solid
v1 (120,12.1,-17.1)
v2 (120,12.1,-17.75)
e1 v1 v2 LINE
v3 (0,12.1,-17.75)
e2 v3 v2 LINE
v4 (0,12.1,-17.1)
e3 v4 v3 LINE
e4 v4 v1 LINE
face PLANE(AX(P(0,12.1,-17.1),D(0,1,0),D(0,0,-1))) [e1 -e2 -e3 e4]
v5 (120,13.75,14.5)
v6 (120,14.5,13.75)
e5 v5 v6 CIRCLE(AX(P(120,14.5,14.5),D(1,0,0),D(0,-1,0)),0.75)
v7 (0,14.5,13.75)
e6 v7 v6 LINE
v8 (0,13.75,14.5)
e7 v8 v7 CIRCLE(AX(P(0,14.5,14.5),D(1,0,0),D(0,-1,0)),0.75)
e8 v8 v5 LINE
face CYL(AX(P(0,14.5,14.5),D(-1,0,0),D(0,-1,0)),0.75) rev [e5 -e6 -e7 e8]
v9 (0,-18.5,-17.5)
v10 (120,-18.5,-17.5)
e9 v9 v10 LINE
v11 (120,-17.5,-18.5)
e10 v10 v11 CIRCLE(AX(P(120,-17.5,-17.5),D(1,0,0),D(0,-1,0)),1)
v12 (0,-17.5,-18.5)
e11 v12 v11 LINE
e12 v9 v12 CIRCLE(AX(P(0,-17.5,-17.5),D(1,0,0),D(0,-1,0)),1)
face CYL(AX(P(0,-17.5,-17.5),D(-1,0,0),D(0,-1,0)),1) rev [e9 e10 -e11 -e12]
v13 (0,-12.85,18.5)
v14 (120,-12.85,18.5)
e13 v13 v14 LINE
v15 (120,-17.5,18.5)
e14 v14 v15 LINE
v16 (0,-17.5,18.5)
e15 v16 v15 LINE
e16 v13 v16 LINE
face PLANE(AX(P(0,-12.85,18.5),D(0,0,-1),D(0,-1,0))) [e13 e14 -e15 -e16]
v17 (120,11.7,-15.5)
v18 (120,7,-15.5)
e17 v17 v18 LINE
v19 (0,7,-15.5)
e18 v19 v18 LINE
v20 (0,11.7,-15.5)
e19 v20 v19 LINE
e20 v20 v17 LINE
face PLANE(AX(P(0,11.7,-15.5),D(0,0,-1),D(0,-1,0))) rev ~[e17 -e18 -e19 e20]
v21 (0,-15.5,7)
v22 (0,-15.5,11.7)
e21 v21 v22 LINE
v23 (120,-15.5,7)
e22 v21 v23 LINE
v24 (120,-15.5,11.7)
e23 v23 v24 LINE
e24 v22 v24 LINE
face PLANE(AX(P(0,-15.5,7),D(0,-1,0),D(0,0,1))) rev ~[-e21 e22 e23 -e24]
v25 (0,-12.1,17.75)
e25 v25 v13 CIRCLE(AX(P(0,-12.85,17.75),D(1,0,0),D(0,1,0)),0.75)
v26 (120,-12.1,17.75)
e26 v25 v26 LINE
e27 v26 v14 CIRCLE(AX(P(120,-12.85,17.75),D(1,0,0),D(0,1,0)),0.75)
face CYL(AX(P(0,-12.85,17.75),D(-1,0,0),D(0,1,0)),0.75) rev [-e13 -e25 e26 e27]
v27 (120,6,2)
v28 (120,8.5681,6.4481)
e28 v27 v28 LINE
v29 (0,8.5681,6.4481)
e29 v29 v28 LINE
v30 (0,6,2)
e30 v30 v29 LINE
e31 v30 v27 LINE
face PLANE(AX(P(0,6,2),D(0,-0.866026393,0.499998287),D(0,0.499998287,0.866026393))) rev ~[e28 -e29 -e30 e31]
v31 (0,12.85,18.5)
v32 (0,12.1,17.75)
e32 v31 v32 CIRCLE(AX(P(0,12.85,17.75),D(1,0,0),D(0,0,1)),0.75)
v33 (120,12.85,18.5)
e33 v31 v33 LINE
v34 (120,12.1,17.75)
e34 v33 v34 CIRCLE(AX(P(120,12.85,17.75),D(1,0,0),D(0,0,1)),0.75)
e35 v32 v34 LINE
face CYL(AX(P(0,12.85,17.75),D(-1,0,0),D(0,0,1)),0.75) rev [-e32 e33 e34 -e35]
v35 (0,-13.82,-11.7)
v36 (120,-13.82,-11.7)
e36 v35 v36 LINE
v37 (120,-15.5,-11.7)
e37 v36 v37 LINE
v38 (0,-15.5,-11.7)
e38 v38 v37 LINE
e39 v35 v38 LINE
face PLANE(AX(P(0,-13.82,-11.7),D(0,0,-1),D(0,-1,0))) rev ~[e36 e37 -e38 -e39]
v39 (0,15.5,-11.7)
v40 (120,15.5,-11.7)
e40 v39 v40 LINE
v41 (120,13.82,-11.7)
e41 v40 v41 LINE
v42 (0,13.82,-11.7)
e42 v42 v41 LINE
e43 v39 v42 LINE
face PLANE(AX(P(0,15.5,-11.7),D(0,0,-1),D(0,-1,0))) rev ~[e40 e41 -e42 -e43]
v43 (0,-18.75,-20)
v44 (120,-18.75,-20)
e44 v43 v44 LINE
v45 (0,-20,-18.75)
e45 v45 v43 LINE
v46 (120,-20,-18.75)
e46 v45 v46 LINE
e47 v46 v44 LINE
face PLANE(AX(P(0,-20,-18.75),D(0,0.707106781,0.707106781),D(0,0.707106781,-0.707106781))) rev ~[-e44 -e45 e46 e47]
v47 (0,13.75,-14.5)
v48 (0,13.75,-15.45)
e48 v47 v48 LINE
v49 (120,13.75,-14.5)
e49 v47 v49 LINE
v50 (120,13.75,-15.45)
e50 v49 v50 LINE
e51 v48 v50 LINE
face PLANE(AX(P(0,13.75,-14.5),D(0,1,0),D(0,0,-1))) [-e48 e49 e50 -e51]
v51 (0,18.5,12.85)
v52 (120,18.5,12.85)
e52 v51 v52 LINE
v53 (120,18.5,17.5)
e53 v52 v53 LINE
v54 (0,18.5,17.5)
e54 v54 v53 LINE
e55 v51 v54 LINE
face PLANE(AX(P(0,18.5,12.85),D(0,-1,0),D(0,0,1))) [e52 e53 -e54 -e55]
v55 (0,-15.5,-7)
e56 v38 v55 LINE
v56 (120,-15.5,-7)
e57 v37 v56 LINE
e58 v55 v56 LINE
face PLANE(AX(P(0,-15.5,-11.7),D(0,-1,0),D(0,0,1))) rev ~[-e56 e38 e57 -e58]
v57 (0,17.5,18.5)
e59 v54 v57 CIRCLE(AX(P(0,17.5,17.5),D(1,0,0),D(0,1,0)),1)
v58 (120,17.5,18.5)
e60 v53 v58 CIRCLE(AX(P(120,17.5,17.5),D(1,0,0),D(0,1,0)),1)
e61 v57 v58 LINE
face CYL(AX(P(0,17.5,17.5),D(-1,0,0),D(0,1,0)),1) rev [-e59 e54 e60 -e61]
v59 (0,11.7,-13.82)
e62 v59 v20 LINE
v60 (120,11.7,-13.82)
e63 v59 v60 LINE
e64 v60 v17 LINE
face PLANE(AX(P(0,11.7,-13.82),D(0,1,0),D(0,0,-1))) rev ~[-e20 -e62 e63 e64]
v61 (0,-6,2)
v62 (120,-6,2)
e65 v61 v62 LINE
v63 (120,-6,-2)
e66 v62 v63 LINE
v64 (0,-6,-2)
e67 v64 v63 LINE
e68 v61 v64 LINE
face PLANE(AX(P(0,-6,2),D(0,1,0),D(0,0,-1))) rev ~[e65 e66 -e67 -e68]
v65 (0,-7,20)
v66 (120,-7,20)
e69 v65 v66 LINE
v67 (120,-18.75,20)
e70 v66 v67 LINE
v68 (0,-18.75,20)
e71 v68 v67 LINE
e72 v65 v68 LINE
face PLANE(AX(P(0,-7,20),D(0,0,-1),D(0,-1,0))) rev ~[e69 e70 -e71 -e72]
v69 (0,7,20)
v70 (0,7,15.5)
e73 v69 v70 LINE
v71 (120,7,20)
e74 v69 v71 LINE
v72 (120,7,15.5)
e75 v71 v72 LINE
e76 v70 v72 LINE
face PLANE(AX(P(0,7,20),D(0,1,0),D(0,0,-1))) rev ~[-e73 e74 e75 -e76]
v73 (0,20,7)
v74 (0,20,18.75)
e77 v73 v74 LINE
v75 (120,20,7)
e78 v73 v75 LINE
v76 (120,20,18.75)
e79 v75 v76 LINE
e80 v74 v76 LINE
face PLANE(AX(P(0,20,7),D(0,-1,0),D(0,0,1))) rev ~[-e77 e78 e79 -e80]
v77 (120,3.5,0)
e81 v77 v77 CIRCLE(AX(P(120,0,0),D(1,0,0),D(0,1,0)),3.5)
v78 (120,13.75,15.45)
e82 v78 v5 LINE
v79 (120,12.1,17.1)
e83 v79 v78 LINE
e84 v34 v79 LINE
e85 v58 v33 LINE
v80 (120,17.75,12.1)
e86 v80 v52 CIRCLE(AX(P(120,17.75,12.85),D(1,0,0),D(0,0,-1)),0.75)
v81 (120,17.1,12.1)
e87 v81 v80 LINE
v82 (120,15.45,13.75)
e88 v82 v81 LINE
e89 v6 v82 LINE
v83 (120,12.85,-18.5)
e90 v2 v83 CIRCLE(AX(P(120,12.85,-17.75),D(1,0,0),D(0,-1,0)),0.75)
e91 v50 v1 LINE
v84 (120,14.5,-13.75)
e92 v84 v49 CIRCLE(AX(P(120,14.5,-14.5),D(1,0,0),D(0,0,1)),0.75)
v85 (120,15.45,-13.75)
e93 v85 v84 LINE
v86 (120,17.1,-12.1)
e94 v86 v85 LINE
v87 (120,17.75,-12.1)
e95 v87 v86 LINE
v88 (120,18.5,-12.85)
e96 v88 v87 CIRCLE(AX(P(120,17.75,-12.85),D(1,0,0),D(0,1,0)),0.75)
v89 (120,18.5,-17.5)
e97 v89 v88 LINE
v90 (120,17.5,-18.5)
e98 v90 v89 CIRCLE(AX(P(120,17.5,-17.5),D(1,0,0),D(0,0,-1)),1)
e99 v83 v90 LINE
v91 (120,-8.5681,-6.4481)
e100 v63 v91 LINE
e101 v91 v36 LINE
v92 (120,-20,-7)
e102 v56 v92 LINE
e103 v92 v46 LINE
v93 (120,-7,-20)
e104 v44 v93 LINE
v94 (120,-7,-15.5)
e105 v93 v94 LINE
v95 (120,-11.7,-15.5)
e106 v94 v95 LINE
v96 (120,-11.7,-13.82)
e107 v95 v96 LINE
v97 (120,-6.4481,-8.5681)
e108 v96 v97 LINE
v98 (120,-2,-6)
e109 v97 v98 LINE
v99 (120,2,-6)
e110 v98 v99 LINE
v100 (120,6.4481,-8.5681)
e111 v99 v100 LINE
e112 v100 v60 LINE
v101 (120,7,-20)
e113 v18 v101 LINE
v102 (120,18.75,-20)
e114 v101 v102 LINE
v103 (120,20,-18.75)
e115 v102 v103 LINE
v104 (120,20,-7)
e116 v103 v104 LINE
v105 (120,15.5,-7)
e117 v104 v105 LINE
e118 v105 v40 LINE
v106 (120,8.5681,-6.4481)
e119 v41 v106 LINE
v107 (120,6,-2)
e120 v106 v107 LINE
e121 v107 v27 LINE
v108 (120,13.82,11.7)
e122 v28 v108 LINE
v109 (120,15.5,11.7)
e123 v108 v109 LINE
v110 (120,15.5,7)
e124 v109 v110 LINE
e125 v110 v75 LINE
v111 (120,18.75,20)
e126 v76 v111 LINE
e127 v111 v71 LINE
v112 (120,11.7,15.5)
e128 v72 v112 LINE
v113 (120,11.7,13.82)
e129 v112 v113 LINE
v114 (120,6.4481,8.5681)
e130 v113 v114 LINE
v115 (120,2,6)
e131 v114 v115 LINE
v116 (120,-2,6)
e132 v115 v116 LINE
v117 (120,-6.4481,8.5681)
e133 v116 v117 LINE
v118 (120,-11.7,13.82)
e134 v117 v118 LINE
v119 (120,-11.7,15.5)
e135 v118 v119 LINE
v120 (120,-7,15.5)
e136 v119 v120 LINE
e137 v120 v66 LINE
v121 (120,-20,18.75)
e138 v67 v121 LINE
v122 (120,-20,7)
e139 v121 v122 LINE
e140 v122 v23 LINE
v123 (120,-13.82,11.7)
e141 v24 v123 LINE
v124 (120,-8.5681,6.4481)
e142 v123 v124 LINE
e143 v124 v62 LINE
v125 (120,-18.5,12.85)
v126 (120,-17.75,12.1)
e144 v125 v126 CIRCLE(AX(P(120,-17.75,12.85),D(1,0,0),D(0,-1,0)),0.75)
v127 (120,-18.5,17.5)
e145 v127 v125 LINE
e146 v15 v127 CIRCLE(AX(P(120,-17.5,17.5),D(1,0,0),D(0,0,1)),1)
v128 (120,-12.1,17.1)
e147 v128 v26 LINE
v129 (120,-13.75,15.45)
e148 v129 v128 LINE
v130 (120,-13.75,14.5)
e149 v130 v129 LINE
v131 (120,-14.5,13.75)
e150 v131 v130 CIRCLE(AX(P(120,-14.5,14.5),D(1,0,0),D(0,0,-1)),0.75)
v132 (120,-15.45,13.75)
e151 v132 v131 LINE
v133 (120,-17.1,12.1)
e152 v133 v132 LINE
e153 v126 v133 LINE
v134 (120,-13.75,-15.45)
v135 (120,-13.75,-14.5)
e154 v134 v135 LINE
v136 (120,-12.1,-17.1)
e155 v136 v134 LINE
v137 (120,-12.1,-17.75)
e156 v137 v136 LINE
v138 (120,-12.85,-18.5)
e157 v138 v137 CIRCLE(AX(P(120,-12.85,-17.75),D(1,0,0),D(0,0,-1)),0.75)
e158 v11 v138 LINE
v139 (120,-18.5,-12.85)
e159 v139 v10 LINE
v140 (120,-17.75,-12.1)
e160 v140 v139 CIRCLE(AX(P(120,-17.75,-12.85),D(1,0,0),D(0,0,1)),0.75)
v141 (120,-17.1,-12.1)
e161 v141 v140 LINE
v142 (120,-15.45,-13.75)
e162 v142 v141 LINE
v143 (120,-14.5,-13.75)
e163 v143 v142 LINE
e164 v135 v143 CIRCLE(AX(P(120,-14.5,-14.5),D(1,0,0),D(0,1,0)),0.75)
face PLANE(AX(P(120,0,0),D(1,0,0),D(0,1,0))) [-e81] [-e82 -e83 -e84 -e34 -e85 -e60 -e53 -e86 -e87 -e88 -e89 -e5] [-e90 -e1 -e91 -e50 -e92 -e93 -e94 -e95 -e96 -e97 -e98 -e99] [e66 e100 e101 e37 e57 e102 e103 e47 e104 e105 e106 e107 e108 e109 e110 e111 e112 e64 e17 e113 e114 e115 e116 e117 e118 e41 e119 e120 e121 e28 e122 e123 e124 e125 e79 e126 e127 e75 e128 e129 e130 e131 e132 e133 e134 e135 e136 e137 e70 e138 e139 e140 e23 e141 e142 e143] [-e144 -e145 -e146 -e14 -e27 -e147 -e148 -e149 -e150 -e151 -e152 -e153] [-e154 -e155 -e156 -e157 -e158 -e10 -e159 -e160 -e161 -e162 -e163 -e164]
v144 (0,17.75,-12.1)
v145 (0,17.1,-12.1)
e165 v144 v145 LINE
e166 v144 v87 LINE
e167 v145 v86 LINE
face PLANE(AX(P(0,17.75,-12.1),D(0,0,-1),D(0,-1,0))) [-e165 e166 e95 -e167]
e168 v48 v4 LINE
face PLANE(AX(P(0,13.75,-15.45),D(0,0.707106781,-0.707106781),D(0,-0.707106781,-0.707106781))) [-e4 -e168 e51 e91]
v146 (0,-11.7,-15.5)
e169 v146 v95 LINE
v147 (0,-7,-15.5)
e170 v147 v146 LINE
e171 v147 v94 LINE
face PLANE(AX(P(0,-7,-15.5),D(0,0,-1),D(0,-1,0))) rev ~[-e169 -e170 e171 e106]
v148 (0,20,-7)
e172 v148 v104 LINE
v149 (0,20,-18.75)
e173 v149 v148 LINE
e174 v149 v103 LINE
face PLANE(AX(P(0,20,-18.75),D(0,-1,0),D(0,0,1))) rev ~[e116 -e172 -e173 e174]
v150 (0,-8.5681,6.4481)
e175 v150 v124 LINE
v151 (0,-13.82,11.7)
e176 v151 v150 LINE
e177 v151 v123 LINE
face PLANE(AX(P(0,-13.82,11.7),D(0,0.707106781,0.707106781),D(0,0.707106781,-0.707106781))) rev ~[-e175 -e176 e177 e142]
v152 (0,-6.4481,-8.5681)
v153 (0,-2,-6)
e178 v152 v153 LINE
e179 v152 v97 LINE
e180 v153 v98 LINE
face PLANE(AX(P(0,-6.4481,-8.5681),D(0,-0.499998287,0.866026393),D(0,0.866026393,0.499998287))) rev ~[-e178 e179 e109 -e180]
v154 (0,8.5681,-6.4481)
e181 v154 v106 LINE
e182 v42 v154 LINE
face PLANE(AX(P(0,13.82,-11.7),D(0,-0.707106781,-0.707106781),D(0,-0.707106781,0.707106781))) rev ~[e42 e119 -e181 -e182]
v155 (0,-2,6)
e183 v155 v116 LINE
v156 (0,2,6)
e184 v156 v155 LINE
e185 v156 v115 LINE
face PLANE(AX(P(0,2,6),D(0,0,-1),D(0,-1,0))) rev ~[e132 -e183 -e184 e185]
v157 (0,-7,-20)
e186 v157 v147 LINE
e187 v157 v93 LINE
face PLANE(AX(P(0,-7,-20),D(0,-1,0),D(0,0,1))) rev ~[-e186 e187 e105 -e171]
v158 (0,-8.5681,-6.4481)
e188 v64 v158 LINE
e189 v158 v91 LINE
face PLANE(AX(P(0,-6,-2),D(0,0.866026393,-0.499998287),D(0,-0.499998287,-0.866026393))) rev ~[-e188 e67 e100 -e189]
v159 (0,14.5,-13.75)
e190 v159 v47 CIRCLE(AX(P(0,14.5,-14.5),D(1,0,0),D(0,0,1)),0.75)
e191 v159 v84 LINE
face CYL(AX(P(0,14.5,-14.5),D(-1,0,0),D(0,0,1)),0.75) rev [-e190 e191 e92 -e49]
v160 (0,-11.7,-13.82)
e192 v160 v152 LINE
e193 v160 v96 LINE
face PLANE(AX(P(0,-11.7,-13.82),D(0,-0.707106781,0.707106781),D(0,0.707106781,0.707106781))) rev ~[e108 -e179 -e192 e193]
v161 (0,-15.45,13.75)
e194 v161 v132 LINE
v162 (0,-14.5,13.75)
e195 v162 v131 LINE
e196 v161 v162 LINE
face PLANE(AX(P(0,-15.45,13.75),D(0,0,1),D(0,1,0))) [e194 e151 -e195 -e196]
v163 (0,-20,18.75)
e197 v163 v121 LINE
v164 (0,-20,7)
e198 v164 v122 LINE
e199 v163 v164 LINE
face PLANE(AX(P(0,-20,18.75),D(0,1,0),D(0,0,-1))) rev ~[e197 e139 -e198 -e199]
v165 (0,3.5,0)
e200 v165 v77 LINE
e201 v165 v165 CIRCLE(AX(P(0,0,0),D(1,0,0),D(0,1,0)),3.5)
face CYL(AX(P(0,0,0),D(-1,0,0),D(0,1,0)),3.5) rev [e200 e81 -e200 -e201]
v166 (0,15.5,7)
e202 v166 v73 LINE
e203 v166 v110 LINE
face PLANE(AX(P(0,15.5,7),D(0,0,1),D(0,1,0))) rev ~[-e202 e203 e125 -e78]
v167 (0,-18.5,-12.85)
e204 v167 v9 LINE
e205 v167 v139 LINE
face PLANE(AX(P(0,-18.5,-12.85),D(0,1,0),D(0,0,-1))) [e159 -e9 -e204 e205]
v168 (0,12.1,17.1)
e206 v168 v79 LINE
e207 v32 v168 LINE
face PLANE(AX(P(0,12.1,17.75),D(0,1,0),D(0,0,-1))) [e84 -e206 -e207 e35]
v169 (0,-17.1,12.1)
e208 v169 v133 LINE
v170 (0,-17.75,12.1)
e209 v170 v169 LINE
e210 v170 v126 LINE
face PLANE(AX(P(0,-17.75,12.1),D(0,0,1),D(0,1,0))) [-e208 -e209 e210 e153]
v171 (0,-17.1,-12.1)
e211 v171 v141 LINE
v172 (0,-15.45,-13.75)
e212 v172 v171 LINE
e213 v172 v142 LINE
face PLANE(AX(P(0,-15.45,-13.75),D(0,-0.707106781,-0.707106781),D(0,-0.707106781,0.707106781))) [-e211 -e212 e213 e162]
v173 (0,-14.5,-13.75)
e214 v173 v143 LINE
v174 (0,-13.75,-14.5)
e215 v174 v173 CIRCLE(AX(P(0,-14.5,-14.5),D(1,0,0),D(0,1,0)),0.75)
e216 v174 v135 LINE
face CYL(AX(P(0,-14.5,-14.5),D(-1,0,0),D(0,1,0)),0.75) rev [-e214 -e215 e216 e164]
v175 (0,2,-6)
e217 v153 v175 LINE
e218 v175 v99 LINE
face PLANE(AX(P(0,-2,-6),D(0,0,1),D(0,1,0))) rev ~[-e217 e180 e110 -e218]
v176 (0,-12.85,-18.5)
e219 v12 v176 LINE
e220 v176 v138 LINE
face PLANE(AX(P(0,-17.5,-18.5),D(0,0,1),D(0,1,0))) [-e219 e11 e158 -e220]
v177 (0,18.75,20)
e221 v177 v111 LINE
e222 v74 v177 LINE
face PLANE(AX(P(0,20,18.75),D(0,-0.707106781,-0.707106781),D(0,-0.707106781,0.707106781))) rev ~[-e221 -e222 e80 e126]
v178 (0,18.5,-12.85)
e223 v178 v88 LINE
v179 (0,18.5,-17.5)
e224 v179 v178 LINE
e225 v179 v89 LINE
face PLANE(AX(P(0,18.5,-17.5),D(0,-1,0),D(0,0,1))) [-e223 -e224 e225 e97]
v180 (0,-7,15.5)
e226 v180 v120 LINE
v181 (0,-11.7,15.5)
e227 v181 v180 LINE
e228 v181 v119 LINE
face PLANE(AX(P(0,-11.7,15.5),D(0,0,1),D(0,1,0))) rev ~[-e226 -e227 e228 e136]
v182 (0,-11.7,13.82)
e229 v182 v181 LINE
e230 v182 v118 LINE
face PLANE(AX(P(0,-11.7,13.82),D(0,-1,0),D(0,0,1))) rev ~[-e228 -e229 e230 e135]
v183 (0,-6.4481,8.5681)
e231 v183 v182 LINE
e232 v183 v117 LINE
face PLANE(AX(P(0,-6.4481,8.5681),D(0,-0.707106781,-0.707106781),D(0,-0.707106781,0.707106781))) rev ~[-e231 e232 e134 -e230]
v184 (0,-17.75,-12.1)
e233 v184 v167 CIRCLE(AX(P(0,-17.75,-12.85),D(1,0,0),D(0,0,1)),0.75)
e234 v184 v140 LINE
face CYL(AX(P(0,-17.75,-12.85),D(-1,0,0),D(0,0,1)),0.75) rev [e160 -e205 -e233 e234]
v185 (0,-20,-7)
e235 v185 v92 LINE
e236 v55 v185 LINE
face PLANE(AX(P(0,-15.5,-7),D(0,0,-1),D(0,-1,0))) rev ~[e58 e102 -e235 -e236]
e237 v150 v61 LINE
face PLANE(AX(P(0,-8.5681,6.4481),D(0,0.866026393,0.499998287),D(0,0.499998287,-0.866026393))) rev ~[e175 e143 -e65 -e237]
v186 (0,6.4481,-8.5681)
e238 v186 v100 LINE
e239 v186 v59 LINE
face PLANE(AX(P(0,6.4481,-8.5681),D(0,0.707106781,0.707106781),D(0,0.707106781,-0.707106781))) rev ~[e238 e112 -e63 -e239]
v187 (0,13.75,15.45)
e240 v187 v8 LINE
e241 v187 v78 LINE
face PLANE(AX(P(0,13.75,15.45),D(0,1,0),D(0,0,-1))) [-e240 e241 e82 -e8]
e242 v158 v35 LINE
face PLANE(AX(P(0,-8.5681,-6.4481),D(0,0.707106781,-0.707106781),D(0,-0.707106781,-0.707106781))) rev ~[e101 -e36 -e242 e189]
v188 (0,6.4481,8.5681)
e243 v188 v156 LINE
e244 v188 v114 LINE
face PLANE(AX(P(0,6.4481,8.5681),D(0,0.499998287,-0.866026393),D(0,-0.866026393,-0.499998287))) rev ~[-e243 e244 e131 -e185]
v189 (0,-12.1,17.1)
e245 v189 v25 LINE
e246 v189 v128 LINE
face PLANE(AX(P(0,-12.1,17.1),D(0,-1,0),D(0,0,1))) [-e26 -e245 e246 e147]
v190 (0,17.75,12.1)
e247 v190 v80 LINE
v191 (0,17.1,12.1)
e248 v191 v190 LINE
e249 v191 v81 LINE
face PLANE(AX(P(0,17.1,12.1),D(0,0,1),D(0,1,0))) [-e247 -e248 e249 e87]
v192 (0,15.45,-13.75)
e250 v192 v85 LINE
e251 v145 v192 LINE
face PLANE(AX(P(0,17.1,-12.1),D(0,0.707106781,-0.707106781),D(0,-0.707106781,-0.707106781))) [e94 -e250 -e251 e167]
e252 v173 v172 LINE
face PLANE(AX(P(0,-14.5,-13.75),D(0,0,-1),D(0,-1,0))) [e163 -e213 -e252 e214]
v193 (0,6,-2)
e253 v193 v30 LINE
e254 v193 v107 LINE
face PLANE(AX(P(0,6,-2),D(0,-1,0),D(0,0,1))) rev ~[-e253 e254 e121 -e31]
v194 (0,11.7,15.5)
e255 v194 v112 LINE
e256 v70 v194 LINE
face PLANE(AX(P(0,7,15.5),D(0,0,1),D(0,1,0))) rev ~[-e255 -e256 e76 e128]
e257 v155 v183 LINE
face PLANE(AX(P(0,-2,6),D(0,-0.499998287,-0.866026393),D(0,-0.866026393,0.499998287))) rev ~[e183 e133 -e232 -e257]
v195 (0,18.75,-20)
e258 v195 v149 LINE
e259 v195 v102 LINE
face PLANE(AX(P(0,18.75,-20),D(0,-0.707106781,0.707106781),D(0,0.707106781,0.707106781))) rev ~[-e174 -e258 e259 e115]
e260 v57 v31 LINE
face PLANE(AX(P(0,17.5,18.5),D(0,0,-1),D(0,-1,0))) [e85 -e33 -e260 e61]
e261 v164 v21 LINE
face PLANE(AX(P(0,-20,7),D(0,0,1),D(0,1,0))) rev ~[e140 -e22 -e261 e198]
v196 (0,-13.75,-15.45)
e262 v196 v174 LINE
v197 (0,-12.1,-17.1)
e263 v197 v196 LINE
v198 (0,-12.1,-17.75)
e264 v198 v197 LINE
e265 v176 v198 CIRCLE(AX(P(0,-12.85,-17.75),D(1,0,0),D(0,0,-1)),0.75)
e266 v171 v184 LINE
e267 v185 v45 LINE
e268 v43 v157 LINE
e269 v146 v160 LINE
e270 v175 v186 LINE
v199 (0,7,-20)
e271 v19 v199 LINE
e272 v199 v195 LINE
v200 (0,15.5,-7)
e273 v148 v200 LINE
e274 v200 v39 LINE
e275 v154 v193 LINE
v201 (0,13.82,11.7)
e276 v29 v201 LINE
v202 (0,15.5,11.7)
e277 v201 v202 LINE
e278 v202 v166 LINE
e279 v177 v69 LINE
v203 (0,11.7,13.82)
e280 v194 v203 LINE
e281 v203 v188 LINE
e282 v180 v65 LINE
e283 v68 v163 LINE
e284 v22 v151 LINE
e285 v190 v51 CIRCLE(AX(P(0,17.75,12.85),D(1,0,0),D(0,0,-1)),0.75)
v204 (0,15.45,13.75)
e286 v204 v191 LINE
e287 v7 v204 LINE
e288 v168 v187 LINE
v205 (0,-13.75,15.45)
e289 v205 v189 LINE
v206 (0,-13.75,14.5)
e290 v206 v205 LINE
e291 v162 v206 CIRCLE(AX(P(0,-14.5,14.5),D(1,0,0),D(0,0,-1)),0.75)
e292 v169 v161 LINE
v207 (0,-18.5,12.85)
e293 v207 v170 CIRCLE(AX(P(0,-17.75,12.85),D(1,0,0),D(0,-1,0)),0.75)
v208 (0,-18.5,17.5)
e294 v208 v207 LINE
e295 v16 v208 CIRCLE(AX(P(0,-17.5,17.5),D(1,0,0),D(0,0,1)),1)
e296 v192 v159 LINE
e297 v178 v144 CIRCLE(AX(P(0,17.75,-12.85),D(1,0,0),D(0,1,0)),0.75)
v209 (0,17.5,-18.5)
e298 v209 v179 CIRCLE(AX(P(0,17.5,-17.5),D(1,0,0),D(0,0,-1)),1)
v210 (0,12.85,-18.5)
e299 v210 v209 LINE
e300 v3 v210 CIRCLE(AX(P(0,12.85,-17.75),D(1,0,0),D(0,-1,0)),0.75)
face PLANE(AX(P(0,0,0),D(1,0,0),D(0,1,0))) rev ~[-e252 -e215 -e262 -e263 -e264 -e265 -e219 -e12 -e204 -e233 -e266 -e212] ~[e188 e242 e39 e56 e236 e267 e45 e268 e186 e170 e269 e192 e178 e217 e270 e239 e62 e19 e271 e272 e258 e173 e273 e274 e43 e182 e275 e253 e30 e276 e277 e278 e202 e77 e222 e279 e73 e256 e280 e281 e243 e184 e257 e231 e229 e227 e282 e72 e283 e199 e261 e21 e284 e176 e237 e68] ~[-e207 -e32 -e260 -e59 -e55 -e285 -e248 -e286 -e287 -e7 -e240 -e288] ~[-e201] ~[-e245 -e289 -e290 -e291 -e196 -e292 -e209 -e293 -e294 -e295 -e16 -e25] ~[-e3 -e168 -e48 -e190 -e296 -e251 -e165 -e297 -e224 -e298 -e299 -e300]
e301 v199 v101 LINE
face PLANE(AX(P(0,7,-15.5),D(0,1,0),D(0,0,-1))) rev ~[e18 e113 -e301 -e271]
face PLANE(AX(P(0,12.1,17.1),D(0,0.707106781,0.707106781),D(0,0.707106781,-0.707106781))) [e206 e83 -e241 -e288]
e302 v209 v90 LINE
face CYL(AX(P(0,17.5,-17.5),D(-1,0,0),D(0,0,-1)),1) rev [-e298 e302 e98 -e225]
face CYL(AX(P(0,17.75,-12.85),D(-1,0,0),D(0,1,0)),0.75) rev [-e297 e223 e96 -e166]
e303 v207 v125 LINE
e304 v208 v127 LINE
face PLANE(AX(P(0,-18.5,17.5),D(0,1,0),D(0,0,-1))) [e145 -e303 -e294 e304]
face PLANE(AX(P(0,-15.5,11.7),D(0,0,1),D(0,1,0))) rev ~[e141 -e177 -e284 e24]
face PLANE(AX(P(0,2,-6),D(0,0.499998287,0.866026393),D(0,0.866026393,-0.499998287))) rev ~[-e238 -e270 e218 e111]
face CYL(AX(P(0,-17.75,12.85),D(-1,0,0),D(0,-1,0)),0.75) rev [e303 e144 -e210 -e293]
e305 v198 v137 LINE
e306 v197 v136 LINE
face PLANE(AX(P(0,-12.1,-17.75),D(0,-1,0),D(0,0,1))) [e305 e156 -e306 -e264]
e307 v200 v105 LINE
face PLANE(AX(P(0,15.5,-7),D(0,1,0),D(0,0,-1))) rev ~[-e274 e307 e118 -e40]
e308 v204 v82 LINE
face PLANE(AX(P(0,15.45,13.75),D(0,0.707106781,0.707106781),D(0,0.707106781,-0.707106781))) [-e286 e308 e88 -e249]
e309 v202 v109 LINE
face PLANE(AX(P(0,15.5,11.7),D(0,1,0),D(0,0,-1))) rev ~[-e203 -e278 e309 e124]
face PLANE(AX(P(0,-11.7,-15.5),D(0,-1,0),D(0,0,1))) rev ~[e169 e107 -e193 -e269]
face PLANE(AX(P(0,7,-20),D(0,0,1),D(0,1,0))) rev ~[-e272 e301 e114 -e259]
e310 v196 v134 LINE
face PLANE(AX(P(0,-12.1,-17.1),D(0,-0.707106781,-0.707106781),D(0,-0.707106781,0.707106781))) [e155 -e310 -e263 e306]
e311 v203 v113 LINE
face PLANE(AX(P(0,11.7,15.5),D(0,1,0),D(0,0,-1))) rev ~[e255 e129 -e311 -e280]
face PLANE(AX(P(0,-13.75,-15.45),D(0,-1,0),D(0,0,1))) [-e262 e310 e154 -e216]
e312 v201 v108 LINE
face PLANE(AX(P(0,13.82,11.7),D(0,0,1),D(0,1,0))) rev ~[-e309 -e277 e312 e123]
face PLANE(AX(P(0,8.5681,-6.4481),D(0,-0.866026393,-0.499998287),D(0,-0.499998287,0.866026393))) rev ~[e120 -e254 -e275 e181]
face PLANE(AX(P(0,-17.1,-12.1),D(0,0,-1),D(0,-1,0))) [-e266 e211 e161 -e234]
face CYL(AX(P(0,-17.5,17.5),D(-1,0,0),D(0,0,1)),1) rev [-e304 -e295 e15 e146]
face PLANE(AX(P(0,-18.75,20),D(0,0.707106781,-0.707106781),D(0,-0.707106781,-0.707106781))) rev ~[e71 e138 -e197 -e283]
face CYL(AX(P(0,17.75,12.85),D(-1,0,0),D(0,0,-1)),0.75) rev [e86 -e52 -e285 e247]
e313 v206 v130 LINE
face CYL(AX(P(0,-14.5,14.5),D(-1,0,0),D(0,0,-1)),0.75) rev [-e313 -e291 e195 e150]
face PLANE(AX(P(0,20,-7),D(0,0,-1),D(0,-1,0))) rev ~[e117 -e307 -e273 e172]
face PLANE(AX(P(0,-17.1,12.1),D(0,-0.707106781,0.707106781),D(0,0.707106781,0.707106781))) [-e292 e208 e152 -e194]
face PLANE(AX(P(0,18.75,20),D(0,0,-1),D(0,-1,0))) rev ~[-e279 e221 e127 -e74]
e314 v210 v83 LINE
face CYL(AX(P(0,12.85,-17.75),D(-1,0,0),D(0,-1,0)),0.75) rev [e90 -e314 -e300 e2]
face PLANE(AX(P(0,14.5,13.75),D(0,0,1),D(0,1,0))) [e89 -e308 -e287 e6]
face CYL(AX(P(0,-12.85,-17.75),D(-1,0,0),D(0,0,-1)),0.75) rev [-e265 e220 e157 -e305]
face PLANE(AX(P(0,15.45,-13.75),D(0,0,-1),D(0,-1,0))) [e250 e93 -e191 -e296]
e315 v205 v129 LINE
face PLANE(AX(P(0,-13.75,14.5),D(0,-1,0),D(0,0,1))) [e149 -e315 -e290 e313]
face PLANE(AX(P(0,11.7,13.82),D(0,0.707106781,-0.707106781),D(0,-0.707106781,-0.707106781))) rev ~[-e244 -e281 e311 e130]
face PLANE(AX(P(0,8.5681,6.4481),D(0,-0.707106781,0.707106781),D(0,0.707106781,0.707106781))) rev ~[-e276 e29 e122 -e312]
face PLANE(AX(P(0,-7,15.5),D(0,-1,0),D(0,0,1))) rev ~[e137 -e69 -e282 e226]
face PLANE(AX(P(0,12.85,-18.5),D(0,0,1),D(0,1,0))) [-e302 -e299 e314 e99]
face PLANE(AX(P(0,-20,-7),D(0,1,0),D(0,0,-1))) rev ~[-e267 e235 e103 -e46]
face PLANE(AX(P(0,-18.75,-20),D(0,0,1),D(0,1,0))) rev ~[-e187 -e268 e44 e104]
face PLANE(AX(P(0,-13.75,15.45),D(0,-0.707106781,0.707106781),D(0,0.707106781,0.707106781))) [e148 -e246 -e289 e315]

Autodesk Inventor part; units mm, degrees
sketch "Skizze_1" plane through (0, 0, 0) normal (1, 0, 0) x (0, 1, 0)
  line L0 (18.75, 20) -> (7, 20)
  line L1 (7, 20) -> (7, 15.5)
  line L2 (7, 15.5) -> (11.7, 15.5)
  line L3 (11.7, 15.5) -> (11.7, 13.82)
  line L4 (11.7, 13.82) -> (6.4481, 8.5681)
  line L5 (6.4481, 8.5681) -> (2, 6)
  line L6 (2, 6) -> (-2, 6)
  line L7 (-2, 6) -> (-6.4481, 8.5681)
  line L8 (-6.4481, 8.5681) -> (-11.7, 13.82)
  line L9 (-11.7, 13.82) -> (-11.7, 15.5)
  line L10 (-11.7, 15.5) -> (-7, 15.5)
  line L11 (-7, 15.5) -> (-7, 20)
  line L12 (-7, 20) -> (-18.75, 20)
  line L13 (-18.75, 20) -> (-20, 18.75)
  line L14 (-20, 18.75) -> (-20, 7)
  line L15 (-20, 7) -> (-15.5, 7)
  line L16 (-15.5, 7) -> (-15.5, 11.7)
  line L17 (-15.5, 11.7) -> (-13.82, 11.7)
  line L18 (-13.82, 11.7) -> (-8.5681, 6.4481)
  line L19 (-8.5681, 6.4481) -> (-6, 2)
  line L20 (-6, 2) -> (-6, -2)
  line L21 (-6, -2) -> (-8.5681, -6.4481)
  line L22 (-8.5681, -6.4481) -> (-13.82, -11.7)
  line L23 (-13.82, -11.7) -> (-15.5, -11.7)
  line L24 (-15.5, -11.7) -> (-15.5, -7)
  line L25 (-15.5, -7) -> (-20, -7)
  line L26 (-20, -7) -> (-20, -18.75)
  line L27 (-20, -18.75) -> (-18.75, -20)
  line L28 (-18.75, -20) -> (-7, -20)
  line L29 (-7, -20) -> (-7, -15.5)
  line L30 (-7, -15.5) -> (-11.7, -15.5)
  line L31 (-11.7, -15.5) -> (-11.7, -13.82)
  line L32 (-11.7, -13.82) -> (-6.4481, -8.5681)
  line L33 (-6.4481, -8.5681) -> (-2, -6)
  line L34 (-2, -6) -> (2, -6)
  line L35 (2, -6) -> (6.4481, -8.5681)
  line L36 (6.4481, -8.5681) -> (11.7, -13.82)
  line L37 (11.7, -13.82) -> (11.7, -15.5)
  line L38 (11.7, -15.5) -> (7, -15.5)
  line L39 (7, -15.5) -> (7, -20)
  line L40 (7, -20) -> (18.75, -20)
  line L41 (18.75, -20) -> (20, -18.75)
  line L42 (20, -18.75) -> (20, -7)
  line L43 (20, -7) -> (15.5, -7)
  line L44 (15.5, -7) -> (15.5, -11.7)
  line L45 (15.5, -11.7) -> (13.82, -11.7)
  line L46 (13.82, -11.7) -> (8.5681, -6.4481)
  line L47 (8.5681, -6.4481) -> (6, -2)
  line L48 (6, -2) -> (6, 2)
  line L49 (6, 2) -> (8.5681, 6.4481)
  line L50 (8.5681, 6.4481) -> (13.82, 11.7)
  line L51 (13.82, 11.7) -> (15.5, 11.7)
  line L52 (15.5, 11.7) -> (15.5, 7)
  line L53 (15.5, 7) -> (20, 7)
  line L54 (20, 7) -> (20, 18.75)
  line L55 (20, 18.75) -> (18.75, 20)
  line L56 (17.75, -12.1) -> (17.1, -12.1)
  line L57 (17.1, -12.1) -> (15.45, -13.75)
  line L58 (15.45, -13.75) -> (14.5, -13.75)
  arc A0 (14.5, -13.75) -> (13.75, -14.5) centre (14.5, -14.5) ccw
  line L59 (13.75, -14.5) -> (13.75, -15.45)
  line L60 (13.75, -15.45) -> (12.1, -17.1)
  line L61 (12.1, -17.1) -> (12.1, -17.75)
  arc A1 (12.1, -17.75) -> (12.85, -18.5) centre (12.85, -17.75) ccw
  line L62 (12.85, -18.5) -> (17.5, -18.5)
  arc A2 (17.5, -18.5) -> (18.5, -17.5) centre (17.5, -17.5) ccw
  line L63 (18.5, -17.5) -> (18.5, -12.85)
  arc A3 (18.5, -12.85) -> (17.75, -12.1) centre (17.75, -12.85) ccw
  line L64 (-17.1, -12.1) -> (-17.75, -12.1)
  arc A4 (-17.75, -12.1) -> (-18.5, -12.85) centre (-17.75, -12.85) ccw
  line L65 (-18.5, -12.85) -> (-18.5, -17.5)
  arc A5 (-18.5, -17.5) -> (-17.5, -18.5) centre (-17.5, -17.5) ccw
  line L66 (-17.5, -18.5) -> (-12.85, -18.5)
  arc A6 (-12.85, -18.5) -> (-12.1, -17.75) centre (-12.85, -17.75) ccw
  line L67 (-12.1, -17.75) -> (-12.1, -17.1)
  line L68 (-12.1, -17.1) -> (-13.75, -15.45)
  line L69 (-13.75, -15.45) -> (-13.75, -14.5)
  arc A7 (-13.75, -14.5) -> (-14.5, -13.75) centre (-14.5, -14.5) ccw
  line L70 (-14.5, -13.75) -> (-15.45, -13.75)
  line L71 (-15.45, -13.75) -> (-17.1, -12.1)
  circle A8 centre (0, 0) radius 3.5
  arc A9 (-17.5, 18.5) -> (-18.5, 17.5) centre (-17.5, 17.5) ccw
  line L72 (-18.5, 17.5) -> (-18.5, 12.85)
  arc A10 (-18.5, 12.85) -> (-17.75, 12.1) centre (-17.75, 12.85) ccw
  line L73 (-17.75, 12.1) -> (-17.1, 12.1)
  line L74 (-17.1, 12.1) -> (-15.45, 13.75)
  line L75 (-15.45, 13.75) -> (-14.5, 13.75)
  arc A11 (-14.5, 13.75) -> (-13.75, 14.5) centre (-14.5, 14.5) ccw
  line L76 (-13.75, 14.5) -> (-13.75, 15.45)
  line L77 (-13.75, 15.45) -> (-12.1, 17.1)
  line L78 (-12.1, 17.1) -> (-12.1, 17.75)
  arc A12 (-12.1, 17.75) -> (-12.85, 18.5) centre (-12.85, 17.75) ccw
  line L79 (-12.85, 18.5) -> (-17.5, 18.5)
  line L80 (17.5, 18.5) -> (12.85, 18.5)
  arc A13 (12.85, 18.5) -> (12.1, 17.75) centre (12.85, 17.75) ccw
  line L81 (12.1, 17.75) -> (12.1, 17.1)
  line L82 (12.1, 17.1) -> (13.75, 15.45)
  line L83 (13.75, 15.45) -> (13.75, 14.5)
  arc A14 (13.75, 14.5) -> (14.5, 13.75) centre (14.5, 14.5) ccw
  line L84 (14.5, 13.75) -> (15.45, 13.75)
  line L85 (15.45, 13.75) -> (17.1, 12.1)
  line L86 (17.1, 12.1) -> (17.75, 12.1)
  arc A15 (17.75, 12.1) -> (18.5, 12.85) centre (17.75, 12.85) ccw
  line L87 (18.5, 12.85) -> (18.5, 17.5)
  arc A16 (18.5, 17.5) -> (17.5, 18.5) centre (17.5, 17.5) ccw
extrude "Extrusion1" add sketch "Skizze_1" along normal blind 120
ref_plane "CS_ANBAU_HINTEN_LINKS_XY" through (120, 0, 20) normal (1, 0, 0) x (0, 0, -1)
ref_plane "CS_ANBAU_HINTEN_LINKS_YZ" through (120, 0, 20) normal (0, 0, -1) x (0, 1, 0)
ref_plane "CS_ANBAU_HINTEN_LINKS_ZX" through (120, 0, 20) normal (0, 1, 0) x (1, 0, 0)
ref_plane "CS_ANBAU_HINTEN_OBEN_XY" through (120, 20, 0) normal (1, 0, 0) x (0, 0, -1)
ref_plane "CS_ANBAU_HINTEN_OBEN_YZ" through (120, 20, 0) normal (0, 0, -1) x (0, 1, 0)
ref_plane "CS_ANBAU_HINTEN_OBEN_ZX" through (120, 20, 0) normal (0, 1, 0) x (1, 0, 0)
ref_plane "CS_ANBAU_HINTEN_RECHTS_XY" through (120, 0, -20) normal (1, 0, 0) x (0, 0, -1)
ref_plane "CS_ANBAU_HINTEN_RECHTS_YZ" through (120, 0, -20) normal (0, 0, -1) x (0, 1, 0)
ref_plane "CS_ANBAU_HINTEN_RECHTS_ZX" through (120, 0, -20) normal (0, 1, 0) x (1, 0, 0)
ref_plane "CS_ANBAU_HINTEN_UNTEN_XY" through (120, -20, 0) normal (1, 0, 0) x (0, 0, -1)
ref_plane "CS_ANBAU_HINTEN_UNTEN_YZ" through (120, -20, 0) normal (0, 0, -1) x (0, 1, 0)
ref_plane "CS_ANBAU_HINTEN_UNTEN_ZX" through (120, -20, 0) normal (0, 1, 0) x (1, 0, 0)
ref_plane "CS_ANBAU_QUER_XY" through (0, 0, 20) normal (0, 0, 1) x (1, 0, 0)
ref_plane "CS_ANBAU_QUER_YZ" through (0, 0, 20) normal (1, 0, 0) x (0, 1, 0)
ref_plane "CS_ANBAU_QUER_ZX" through (0, 0, 20) normal (0, 1, 0) x (0, 0, 1)
ref_plane "CS_ANBAU_QUER_1_XY" through (120, 0, 20) normal (0, 0, 1) x (1, 0, 0)
ref_plane "CS_ANBAU_QUER_1_YZ" through (120, 0, 20) normal (1, 0, 0) x (0, 1, 0)
ref_plane "CS_ANBAU_QUER_1_ZX" through (120, 0, 20) normal (0, 1, 0) x (0, 0, 1)
ref_plane "CS_ANBAU_VORNE_LINKS_XY" through (0, 0, 20) normal (-1, 0, 0) x (0, 0, -1)
ref_plane "CS_ANBAU_VORNE_LINKS_YZ" through (0, 0, 20) normal (0, 0, -1) x (0, -1, 0)
ref_plane "CS_ANBAU_VORNE_LINKS_ZX" through (0, 0, 20) normal (0, -1, 0) x (-1, 0, 0)
ref_plane "CS_ANBAU_VORNE_OBEN_XY" through (0, 20, 0) normal (-1, 0, 0) x (0, 0, -1)
ref_plane "CS_ANBAU_VORNE_OBEN_YZ" through (0, 20, 0) normal (0, 0, -1) x (0, -1, 0)
ref_plane "CS_ANBAU_VORNE_OBEN_ZX" through (0, 20, 0) normal (0, -1, 0) x (-1, 0, 0)
ref_plane "CS_ANBAU_VORNE_RECHTS_XY" through (0, 0, -20) normal (-1, 0, 0) x (0, 0, -1)
ref_plane "CS_ANBAU_VORNE_RECHTS_YZ" through (0, 0, -20) normal (0, 0, -1) x (0, -1, 0)
ref_plane "CS_ANBAU_VORNE_RECHTS_ZX" through (0, 0, -20) normal (0, -1, 0) x (-1, 0, 0)
ref_plane "CS_ANBAU_VORNE_UNTEN_XY" through (0, -20, 0) normal (-1, 0, 0) x (0, 0, -1)
ref_plane "CS_ANBAU_VORNE_UNTEN_YZ" through (0, -20, 0) normal (0, 0, -1) x (0, -1, 0)
ref_plane "CS_ANBAU_VORNE_UNTEN_ZX" through (0, -20, 0) normal (0, -1, 0) x (-1, 0, 0)
ref_plane "p1_XY" through (0, 20, 0) normal (0, 0, 1) x (1, 0, 0)
ref_plane "p1_YZ" through (0, 20, 0) normal (1, 0, 0) x (0, 1, 0)
ref_plane "p1_ZX" through (0, 20, 0) normal (0, 1, 0) x (0, 0, 1)
ref_plane "p2_XY" through (120, 20, 0) normal (0, 0, 1) x (1, 0, 0)
ref_plane "p2_YZ" through (120, 20, 0) normal (1, 0, 0) x (0, 1, 0)
ref_plane "p2_ZX" through (120, 20, 0) normal (0, 1, 0) x (0, 0, 1)
ref_plane "p3_XY" through (120, -20, 18.75) normal (1, 0, 0) x (0, 0, -1)
ref_plane "p3_YZ" through (120, -20, 18.75) normal (0, 0, -1) x (0, 1, 0)
ref_plane "p3_ZX" through (120, -20, 18.75) normal (0, 1, 0) x (1, 0, 0)
ref_plane "p4_XY" through (120, 20, 18.75) normal (1, 0, 0) x (0, 0, -1)
ref_plane "p4_YZ" through (120, 20, 18.75) normal (0, 0, -1) x (0, 1, 0)
ref_plane "p4_ZX" through (120, 20, 18.75) normal (0, 1, 0) x (1, 0, 0)
ref_plane "p5_XY" through (120, 20, -21.25) normal (1, 0, 0) x (0, 0, -1)
ref_plane "p5_YZ" through (120, 20, -21.25) normal (0, 0, -1) x (0, 1, 0)
ref_plane "p5_ZX" through (120, 20, -21.25) normal (0, 1, 0) x (1, 0, 0)
ref_plane "pm1_XY" through (0, 0, 0) normal (1, 0, 0) x (0, 0, -1)
ref_plane "pm1_YZ" through (0, 0, 0) normal (0, 0, -1) x (0, 1, 0)
ref_plane "pm1_ZX" through (0, 0, 0) normal (0, 1, 0) x (1, 0, 0)
ref_plane "pm2_XY" through (120, 0, -1.25) normal (1, 0, 0) x (0, 0, -1)
ref_plane "pm2_YZ" through (120, 0, -1.25) normal (0, 0, -1) x (0, 1, 0)
ref_plane "pm2_ZX" through (120, 0, -1.25) normal (0, 1, 0) x (1, 0, 0)
properties part number "Robotunits Profil 40 x 40 - PIL 4040 SNN 0120"
